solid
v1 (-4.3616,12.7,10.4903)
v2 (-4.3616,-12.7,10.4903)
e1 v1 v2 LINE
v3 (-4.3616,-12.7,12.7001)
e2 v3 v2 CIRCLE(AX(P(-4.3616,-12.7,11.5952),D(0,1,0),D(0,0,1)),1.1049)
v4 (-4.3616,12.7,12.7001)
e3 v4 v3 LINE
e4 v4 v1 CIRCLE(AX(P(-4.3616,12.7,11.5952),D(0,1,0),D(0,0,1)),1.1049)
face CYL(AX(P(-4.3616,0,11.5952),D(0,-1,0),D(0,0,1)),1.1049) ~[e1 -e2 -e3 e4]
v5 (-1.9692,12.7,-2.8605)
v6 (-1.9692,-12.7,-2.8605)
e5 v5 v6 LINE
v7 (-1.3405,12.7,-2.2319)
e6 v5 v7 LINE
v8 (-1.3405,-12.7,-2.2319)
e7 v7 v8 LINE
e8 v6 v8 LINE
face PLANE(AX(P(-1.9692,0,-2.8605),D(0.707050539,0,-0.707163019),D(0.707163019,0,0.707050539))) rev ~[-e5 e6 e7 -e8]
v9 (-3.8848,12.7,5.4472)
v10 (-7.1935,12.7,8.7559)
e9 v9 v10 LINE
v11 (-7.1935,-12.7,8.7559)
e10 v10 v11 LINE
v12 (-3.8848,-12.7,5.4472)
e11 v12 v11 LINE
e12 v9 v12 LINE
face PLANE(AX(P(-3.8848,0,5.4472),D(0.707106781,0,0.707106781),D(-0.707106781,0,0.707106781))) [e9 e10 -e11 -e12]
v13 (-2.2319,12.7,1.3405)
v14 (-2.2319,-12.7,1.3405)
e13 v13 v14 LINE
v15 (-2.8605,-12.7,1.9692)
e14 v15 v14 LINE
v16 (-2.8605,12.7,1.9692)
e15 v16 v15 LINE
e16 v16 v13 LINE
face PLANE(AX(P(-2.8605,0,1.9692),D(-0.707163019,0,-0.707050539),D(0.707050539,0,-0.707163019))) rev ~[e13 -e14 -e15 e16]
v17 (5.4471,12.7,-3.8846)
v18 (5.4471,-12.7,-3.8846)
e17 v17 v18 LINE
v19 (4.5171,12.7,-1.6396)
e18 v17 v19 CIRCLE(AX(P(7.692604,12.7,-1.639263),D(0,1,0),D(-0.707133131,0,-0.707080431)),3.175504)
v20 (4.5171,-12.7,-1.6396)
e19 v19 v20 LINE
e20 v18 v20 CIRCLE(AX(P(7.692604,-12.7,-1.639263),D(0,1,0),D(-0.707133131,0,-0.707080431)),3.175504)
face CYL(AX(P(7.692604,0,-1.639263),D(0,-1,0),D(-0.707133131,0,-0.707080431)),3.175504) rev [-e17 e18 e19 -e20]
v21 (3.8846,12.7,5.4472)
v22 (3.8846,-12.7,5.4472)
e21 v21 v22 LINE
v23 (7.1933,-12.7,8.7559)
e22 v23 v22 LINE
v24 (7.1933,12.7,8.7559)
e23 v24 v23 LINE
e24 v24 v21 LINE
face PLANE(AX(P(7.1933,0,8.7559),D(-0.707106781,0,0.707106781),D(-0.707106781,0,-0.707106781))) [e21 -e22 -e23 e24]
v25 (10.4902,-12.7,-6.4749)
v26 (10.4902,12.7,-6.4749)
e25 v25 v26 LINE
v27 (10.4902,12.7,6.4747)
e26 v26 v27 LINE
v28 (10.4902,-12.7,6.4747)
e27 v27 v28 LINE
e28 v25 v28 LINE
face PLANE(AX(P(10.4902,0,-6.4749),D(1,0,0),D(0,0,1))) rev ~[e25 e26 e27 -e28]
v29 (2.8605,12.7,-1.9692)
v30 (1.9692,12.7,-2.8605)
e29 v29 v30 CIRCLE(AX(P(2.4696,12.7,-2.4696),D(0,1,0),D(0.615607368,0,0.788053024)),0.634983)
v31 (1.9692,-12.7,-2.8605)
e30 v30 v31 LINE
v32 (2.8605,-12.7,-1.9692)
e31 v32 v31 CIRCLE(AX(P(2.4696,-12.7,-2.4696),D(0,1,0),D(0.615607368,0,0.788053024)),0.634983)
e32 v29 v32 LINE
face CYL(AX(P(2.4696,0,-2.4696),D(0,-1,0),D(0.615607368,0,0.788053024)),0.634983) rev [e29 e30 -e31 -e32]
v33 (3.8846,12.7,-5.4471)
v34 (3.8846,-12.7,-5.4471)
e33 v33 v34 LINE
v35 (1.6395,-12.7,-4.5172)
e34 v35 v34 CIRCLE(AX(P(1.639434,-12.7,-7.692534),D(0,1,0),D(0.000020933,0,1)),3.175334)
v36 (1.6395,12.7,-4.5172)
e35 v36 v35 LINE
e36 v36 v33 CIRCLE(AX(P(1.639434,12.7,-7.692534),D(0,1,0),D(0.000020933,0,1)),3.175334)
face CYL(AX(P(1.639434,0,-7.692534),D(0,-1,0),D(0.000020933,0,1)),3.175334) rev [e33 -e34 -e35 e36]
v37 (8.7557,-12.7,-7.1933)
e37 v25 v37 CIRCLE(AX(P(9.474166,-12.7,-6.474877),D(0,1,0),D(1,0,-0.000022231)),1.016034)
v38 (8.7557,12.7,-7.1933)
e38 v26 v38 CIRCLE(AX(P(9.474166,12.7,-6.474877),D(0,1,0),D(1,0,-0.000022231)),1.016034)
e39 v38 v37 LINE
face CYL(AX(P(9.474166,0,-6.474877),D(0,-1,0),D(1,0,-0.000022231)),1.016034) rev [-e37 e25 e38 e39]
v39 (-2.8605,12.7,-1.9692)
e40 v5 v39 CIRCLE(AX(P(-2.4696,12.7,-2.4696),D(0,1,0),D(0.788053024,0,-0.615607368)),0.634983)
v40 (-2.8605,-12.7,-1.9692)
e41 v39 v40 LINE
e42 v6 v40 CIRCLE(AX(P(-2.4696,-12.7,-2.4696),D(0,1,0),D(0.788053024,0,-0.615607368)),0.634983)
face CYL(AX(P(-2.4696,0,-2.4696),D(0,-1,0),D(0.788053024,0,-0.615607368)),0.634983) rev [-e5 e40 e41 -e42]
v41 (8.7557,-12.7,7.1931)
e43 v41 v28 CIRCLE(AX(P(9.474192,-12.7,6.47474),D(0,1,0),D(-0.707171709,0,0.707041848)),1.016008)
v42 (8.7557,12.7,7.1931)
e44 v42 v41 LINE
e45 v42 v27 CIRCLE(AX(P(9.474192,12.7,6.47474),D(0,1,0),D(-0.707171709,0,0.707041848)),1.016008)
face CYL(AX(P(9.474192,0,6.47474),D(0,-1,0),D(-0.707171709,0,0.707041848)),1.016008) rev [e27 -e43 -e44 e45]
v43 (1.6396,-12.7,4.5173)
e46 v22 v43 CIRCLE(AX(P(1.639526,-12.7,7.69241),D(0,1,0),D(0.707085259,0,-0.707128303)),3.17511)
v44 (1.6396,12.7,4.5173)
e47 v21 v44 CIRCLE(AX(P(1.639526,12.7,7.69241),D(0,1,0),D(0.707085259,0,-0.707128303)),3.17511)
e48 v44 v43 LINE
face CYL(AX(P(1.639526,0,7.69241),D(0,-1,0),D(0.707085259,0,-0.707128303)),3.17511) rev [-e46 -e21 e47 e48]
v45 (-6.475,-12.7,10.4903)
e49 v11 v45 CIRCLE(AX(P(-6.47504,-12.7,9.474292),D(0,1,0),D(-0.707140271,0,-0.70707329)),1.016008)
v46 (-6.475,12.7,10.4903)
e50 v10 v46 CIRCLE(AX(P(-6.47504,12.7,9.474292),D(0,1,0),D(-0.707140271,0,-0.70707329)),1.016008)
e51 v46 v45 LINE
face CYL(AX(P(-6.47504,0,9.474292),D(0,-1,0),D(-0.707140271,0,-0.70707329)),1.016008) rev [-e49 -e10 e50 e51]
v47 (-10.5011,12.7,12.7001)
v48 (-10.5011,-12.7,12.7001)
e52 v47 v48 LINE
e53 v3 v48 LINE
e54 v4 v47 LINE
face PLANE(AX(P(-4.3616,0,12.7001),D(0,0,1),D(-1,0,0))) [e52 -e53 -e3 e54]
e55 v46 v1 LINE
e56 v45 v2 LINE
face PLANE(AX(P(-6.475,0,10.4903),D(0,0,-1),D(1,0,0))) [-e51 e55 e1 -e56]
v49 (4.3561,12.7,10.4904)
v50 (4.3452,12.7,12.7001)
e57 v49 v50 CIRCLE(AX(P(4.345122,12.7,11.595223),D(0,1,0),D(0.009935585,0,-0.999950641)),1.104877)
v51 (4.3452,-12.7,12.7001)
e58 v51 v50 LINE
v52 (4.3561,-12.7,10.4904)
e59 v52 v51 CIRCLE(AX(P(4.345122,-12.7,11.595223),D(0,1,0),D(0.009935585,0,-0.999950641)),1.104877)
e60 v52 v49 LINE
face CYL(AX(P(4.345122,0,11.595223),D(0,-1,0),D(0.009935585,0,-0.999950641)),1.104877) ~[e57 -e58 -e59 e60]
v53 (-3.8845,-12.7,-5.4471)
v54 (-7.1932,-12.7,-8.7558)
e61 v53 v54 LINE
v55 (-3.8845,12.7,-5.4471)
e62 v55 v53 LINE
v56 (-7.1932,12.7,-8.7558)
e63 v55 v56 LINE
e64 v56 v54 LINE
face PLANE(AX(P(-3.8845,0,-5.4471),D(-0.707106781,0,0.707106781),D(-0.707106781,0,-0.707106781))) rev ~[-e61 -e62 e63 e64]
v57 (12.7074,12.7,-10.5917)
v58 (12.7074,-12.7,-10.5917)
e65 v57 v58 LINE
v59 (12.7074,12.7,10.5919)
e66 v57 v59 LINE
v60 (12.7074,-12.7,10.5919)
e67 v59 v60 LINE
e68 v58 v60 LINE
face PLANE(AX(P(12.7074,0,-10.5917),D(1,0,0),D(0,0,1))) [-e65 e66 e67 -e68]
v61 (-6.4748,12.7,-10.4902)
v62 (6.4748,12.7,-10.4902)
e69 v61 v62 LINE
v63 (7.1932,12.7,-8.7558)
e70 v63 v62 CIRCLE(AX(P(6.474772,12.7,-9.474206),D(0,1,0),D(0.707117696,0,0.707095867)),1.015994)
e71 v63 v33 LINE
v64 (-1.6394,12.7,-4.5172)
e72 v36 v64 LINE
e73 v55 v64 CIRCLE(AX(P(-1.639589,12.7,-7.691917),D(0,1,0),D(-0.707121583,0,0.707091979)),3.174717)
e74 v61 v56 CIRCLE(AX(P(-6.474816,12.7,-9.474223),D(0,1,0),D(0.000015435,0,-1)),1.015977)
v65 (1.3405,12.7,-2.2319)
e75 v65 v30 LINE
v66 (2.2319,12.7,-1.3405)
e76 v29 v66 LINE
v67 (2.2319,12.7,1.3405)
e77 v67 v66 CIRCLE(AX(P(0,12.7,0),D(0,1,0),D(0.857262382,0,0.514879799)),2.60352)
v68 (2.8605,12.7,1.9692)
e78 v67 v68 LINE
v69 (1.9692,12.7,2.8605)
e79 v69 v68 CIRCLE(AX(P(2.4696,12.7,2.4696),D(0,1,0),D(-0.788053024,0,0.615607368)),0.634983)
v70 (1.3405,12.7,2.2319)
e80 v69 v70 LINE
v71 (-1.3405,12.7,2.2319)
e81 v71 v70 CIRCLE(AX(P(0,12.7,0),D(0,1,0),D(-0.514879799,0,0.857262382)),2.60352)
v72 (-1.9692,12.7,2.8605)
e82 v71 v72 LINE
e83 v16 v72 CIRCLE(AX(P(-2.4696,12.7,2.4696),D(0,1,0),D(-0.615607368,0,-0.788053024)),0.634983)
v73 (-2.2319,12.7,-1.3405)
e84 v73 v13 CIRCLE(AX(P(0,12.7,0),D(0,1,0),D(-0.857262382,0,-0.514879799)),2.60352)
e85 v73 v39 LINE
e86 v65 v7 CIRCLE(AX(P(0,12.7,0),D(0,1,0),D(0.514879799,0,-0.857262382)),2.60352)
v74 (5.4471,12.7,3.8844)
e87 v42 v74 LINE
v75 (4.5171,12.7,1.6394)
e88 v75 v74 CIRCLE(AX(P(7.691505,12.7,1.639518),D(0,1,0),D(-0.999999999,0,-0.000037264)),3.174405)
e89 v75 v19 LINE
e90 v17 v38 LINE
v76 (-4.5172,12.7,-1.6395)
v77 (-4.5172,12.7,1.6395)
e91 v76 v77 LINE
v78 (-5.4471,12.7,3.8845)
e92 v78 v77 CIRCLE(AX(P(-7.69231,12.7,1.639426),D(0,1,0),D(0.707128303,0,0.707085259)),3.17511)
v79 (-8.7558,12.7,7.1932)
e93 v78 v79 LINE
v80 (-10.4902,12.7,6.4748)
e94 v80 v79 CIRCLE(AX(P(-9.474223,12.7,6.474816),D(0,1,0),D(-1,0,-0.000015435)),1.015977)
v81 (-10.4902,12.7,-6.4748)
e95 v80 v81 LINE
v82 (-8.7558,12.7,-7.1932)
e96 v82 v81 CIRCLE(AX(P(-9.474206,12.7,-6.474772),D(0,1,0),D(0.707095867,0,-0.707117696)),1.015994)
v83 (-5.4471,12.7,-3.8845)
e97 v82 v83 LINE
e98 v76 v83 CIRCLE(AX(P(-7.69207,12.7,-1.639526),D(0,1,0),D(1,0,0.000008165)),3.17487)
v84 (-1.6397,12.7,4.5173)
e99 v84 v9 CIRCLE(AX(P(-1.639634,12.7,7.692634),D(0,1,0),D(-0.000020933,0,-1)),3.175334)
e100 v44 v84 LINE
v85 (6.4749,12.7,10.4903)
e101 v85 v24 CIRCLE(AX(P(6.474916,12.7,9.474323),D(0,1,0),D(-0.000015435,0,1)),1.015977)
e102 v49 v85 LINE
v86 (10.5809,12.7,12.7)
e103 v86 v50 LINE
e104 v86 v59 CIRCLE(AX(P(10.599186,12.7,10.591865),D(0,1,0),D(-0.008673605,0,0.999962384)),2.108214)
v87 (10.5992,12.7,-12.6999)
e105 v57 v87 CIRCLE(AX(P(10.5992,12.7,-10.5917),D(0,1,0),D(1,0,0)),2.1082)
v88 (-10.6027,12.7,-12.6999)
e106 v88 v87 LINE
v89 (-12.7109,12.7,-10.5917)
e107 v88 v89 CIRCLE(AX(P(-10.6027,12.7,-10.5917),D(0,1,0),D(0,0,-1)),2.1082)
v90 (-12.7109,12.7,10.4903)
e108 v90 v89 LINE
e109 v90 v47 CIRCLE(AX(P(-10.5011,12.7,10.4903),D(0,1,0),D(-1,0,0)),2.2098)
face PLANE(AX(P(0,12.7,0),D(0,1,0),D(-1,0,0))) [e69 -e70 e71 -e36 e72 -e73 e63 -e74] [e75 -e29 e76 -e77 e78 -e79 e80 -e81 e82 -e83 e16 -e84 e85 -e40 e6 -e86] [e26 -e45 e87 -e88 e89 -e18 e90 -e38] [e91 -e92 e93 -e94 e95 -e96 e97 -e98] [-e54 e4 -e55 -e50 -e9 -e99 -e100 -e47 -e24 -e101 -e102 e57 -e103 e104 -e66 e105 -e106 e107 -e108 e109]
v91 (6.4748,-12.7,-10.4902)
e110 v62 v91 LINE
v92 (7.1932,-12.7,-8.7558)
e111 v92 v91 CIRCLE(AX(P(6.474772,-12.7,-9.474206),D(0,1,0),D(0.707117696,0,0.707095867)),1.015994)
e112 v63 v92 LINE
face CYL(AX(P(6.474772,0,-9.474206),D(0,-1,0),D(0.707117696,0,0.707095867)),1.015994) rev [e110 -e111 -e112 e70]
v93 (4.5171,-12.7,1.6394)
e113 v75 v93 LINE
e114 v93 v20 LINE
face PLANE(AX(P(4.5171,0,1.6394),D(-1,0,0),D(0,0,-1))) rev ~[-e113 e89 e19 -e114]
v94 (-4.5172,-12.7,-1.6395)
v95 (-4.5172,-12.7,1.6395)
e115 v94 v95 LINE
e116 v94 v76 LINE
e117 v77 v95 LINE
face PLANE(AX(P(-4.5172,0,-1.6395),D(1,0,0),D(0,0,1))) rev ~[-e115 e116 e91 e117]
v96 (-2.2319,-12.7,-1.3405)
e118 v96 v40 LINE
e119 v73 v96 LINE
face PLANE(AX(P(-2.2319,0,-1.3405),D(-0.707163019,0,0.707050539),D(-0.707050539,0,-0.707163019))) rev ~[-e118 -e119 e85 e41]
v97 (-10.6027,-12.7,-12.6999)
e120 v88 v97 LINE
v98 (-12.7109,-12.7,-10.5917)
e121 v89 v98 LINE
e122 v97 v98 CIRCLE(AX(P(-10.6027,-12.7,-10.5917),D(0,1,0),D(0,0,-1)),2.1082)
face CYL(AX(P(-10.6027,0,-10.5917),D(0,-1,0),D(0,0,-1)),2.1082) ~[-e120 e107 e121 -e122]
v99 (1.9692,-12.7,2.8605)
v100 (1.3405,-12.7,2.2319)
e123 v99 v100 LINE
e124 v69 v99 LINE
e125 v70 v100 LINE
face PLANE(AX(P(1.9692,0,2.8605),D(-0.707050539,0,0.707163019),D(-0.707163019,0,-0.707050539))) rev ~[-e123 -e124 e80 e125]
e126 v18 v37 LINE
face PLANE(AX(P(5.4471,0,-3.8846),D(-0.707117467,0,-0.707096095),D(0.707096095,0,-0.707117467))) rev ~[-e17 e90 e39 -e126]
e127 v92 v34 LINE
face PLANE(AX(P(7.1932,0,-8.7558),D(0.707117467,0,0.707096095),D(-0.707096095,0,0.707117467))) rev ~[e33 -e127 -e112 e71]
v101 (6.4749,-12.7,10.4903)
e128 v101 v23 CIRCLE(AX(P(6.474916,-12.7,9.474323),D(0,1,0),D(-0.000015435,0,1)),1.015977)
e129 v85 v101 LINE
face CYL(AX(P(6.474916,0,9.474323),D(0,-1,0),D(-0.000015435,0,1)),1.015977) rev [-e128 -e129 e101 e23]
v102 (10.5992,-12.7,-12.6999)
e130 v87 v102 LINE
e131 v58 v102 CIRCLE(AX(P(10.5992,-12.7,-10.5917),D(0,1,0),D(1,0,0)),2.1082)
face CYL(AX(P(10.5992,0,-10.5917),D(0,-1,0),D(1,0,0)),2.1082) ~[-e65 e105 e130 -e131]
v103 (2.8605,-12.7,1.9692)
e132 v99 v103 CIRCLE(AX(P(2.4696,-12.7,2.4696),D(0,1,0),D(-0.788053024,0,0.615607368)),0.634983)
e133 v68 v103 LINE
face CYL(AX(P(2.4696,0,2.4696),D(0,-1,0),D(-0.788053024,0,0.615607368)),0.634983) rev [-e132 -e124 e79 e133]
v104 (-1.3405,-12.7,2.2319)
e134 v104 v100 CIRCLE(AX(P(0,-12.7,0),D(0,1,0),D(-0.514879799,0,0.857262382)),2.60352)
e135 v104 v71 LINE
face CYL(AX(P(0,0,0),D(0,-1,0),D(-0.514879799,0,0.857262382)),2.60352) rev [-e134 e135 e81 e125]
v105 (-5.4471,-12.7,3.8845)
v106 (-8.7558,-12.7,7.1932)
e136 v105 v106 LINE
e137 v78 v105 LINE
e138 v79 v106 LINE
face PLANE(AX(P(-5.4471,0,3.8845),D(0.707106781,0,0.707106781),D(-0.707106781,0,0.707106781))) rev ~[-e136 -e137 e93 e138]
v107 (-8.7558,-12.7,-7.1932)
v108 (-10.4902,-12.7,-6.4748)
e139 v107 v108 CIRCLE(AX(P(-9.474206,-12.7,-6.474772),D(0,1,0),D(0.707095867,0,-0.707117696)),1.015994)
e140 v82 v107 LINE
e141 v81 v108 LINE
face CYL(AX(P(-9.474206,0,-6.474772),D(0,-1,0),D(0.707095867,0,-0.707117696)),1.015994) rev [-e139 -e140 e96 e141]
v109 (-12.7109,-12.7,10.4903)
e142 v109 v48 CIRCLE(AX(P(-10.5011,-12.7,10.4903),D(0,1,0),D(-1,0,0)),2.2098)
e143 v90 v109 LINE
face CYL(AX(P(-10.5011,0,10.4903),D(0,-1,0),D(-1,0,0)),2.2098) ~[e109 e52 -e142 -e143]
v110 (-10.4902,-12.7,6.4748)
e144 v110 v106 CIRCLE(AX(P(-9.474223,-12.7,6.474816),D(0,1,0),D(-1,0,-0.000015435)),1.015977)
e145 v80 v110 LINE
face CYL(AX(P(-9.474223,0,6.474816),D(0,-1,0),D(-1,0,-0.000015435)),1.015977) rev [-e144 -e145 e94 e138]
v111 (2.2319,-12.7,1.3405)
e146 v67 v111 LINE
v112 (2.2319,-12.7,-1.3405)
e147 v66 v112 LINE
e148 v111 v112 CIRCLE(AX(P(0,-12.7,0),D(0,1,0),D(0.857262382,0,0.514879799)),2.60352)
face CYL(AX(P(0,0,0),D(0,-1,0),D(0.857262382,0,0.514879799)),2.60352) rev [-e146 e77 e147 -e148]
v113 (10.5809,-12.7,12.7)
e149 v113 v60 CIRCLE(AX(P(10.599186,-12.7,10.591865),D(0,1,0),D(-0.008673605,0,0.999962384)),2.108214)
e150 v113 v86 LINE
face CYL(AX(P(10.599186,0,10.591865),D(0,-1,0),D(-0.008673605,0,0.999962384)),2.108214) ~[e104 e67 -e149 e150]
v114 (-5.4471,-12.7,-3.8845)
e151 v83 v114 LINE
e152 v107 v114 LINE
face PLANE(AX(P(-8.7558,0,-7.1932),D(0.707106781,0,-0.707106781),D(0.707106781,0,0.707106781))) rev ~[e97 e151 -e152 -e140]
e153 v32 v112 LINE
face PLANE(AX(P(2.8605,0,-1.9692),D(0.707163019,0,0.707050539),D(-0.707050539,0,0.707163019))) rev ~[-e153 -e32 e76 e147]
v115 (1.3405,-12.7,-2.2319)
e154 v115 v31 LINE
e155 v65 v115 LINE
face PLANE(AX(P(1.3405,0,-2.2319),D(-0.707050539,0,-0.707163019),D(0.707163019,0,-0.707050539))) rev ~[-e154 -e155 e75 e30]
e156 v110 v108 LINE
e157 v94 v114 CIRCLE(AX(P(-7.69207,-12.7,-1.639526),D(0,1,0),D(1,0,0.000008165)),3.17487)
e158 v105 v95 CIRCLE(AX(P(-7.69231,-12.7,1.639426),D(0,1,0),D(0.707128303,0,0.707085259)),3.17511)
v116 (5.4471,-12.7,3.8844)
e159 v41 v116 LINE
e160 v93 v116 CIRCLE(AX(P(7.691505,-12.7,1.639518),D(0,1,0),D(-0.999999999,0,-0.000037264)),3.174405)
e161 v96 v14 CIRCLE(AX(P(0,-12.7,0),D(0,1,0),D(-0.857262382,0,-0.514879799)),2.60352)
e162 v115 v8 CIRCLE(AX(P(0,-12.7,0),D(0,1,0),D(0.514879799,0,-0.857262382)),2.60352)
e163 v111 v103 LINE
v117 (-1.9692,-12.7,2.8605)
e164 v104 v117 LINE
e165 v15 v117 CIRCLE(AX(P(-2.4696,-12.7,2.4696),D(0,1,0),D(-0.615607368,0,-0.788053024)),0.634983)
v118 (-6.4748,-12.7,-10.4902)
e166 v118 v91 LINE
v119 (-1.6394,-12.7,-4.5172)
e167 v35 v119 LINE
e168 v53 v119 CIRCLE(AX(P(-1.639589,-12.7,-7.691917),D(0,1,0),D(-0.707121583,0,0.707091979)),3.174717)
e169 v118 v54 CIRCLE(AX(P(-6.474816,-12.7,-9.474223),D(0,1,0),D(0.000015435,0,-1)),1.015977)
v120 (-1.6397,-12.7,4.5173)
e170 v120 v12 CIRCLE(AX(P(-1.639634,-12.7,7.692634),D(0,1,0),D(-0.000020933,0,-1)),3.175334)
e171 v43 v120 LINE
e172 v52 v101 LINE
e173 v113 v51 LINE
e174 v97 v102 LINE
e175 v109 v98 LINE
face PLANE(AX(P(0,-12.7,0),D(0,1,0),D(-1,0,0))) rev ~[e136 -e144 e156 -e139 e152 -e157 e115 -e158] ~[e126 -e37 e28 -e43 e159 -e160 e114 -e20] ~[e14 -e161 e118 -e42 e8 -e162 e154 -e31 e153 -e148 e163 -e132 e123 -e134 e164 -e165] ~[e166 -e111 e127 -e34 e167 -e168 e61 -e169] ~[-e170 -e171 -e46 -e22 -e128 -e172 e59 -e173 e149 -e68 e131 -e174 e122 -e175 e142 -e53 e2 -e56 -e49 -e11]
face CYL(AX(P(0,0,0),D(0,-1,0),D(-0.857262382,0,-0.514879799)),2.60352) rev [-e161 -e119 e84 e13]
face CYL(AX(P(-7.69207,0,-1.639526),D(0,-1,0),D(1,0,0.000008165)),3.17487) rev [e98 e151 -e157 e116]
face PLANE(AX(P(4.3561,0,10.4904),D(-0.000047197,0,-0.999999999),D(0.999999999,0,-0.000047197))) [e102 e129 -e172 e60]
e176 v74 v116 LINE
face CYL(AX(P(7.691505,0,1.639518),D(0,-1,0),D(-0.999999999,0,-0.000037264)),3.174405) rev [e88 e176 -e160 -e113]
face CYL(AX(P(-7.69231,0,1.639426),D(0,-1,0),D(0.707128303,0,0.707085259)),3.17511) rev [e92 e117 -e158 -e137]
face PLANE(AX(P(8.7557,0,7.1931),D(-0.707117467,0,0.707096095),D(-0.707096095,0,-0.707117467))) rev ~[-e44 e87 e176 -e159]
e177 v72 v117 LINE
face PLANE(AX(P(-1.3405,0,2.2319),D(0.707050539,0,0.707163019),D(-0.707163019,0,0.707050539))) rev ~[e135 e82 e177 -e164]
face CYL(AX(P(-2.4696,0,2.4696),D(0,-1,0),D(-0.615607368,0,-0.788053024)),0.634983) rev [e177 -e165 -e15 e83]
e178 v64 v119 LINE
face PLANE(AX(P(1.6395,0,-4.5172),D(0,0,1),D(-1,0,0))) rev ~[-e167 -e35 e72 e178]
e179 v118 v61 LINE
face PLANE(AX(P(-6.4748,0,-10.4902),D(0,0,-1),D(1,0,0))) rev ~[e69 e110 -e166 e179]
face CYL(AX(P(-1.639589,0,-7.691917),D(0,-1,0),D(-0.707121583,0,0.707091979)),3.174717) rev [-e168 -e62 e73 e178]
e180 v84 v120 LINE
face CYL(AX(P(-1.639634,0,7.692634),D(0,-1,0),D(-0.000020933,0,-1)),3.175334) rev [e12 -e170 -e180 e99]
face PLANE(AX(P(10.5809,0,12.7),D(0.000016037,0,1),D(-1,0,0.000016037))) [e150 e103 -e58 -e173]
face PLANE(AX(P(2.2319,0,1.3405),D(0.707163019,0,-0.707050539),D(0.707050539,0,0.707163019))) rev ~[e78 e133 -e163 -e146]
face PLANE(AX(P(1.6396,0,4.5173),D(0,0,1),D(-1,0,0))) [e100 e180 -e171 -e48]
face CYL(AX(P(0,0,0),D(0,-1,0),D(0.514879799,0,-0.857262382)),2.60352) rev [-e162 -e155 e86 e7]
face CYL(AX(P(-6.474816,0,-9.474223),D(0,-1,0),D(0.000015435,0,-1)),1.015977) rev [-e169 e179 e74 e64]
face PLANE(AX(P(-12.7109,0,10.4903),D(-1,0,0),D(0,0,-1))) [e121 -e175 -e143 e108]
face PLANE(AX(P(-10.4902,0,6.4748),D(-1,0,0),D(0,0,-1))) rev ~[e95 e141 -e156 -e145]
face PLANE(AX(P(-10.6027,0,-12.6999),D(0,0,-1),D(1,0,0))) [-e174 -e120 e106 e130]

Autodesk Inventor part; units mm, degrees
ref_plane "YZ Plane" through (0, 0, 0) normal (1, 0, 0) x (0, 1, 0)
ref_plane "XZ Plane" through (0, 0, 0) normal (0, 1, 0) x (-1, 0, 0)
ref_plane "XY Plane" through (0, 0, 0) normal (0, 0, 1) x (1, 0, 0)
sketch "Sketch1" plane through (0, 0, 0) normal (0, 1, 0) x (-1, 0, 0)
  arc A0 (4.5172, -1.6395) -> (5.4471, -3.8845) centre (7.6922, -1.6395) ccw
  line L0 (8.7558, -7.1932) -> (5.4471, -3.8845)
  arc A1 (8.7558, -7.1932) -> (10.4902, -6.4748) centre (9.4742, -6.4748) ccw
  line L1 (10.4902, 6.4748) -> (10.4902, -6.4748)
  arc A2 (10.4902, 6.4748) -> (8.7558, 7.1932) centre (9.4742, 6.4748) ccw
  line L2 (5.4471, 3.8845) -> (8.7558, 7.1932)
  arc A3 (5.4471, 3.8845) -> (4.5172, 1.6395) centre (7.6922, 1.6395) ccw
  line L3 (4.5172, -1.6395) -> (4.5172, 1.6395)
  arc A4 (6.4748, -10.4902) -> (7.1932, -8.7558) centre (6.4748, -9.4742) ccw
  line L4 (3.8845, -5.4471) -> (7.1932, -8.7558)
  arc A5 (3.8845, -5.4471) -> (1.6394, -4.5172) centre (1.6394, -7.6922) ccw
  line L5 (-1.6395, -4.5172) -> (1.6394, -4.5172)
  arc A6 (-1.6395, -4.5172) -> (-3.8846, -5.4471) centre (-1.6395, -7.6922) ccw
  line L6 (-7.1932, -8.7558) -> (-3.8846, -5.4471)
  arc A7 (-7.1932, -8.7558) -> (-6.4748, -10.4902) centre (-6.4748, -9.4742) ccw
  line L7 (6.4748, -10.4902) -> (-6.4748, -10.4902)
  arc A8 (-10.4902, -6.4749) -> (-8.7557, -7.1933) centre (-9.4742, -6.4749) ccw
  line L8 (-5.4471, -3.8846) -> (-8.7557, -7.1933)
  arc A9 (-5.4471, -3.8846) -> (-4.5171, -1.6396) centre (-7.6921, -1.6396) ccw
  line L9 (-4.5171, 1.6394) -> (-4.5171, -1.6396)
  arc A10 (-4.5171, 1.6394) -> (-5.4471, 3.8844) centre (-7.6921, 1.6394) ccw
  line L10 (-8.7557, 7.1931) -> (-5.4471, 3.8844)
  arc A11 (-8.7557, 7.1931) -> (-10.4902, 6.4747) centre (-9.4742, 6.4747) ccw
  line L11 (-10.4902, -6.4749) -> (-10.4902, 6.4747)
  arc A12 (1.3405, 2.2319) -> (-1.3405, 2.2319) centre (0, 0) ccw
  line L12 (-1.9692, 2.8605) -> (-1.3405, 2.2319)
  arc A13 (-1.9692, 2.8605) -> (-2.8605, 1.9692) centre (-2.4696, 2.4696) ccw
  line L13 (-2.2319, 1.3405) -> (-2.8605, 1.9692)
  arc A14 (-2.2319, 1.3405) -> (-2.2319, -1.3405) centre (0, 0) ccw
  line L14 (-2.8605, -1.9692) -> (-2.2319, -1.3405)
  arc A15 (-2.8605, -1.9692) -> (-1.9692, -2.8605) centre (-2.4696, -2.4696) ccw
  line L15 (-1.3405, -2.2319) -> (-1.9692, -2.8605)
  arc A16 (-1.3405, -2.2319) -> (1.3405, -2.2319) centre (0, 0) ccw
  line L16 (1.9692, -2.8605) -> (1.3405, -2.2319)
  arc A17 (1.9692, -2.8605) -> (2.8605, -1.9692) centre (2.4696, -2.4696) ccw
  line L17 (2.2319, -1.3405) -> (2.8605, -1.9692)
  arc A18 (2.2319, -1.3405) -> (2.2319, 1.3405) centre (0, 0) ccw
  line L18 (2.8605, 1.9692) -> (2.2319, 1.3405)
  arc A19 (2.8605, 1.9692) -> (1.9692, 2.8605) centre (2.4696, 2.4696) ccw
  line L19 (1.3405, 2.2319) -> (1.9692, 2.8605)
  arc A20 (-4.3561, 10.4904) -> (-4.3452, 12.7001) centre (-4.3451, 11.5952) ccw
  line L20 (-4.3561, 10.4904) -> (-6.4749, 10.4903)
  arc A21 (-6.4749, 10.4903) -> (-7.1933, 8.7559) centre (-6.4749, 9.4743) ccw
  line L21 (-7.1933, 8.7559) -> (-3.8846, 5.4472)
  arc A22 (-3.8846, 5.4472) -> (-1.6396, 4.5173) centre (-1.6396, 7.6923) ccw
  line L22 (-1.6396, 4.5173) -> (1.6397, 4.5173)
  arc A23 (1.6397, 4.5173) -> (3.8848, 5.4472) centre (1.6397, 7.6923) ccw
  line L23 (3.8848, 5.4472) -> (7.1935, 8.7559)
  arc A24 (7.1935, 8.7559) -> (6.475, 10.4903) centre (6.475, 9.4743) ccw
  line L24 (6.475, 10.4903) -> (4.3616, 10.4903)
  arc A25 (4.3616, 12.7001) -> (4.3616, 10.4903) centre (4.3616, 11.5952) ccw
  line L25 (4.3616, 12.7001) -> (10.5011, 12.7001)
  arc A26 (12.7109, 10.4903) -> (10.5011, 12.7001) centre (10.5011, 10.4903) ccw
  line L26 (12.7109, 10.4903) -> (12.7109, -10.5917)
  arc A27 (10.6027, -12.6999) -> (12.7109, -10.5917) centre (10.6027, -10.5917) ccw
  line L27 (10.6027, -12.6999) -> (-10.5992, -12.6999)
  arc A28 (-12.7074, -10.5917) -> (-10.5992, -12.6999) centre (-10.5992, -10.5917) ccw
  line L28 (-12.7074, -10.5917) -> (-12.7074, 10.5919)
  arc A29 (-10.5809, 12.7) -> (-12.7074, 10.5919) centre (-10.5992, 10.5919) ccw
  line L29 (-10.5809, 12.7) -> (-4.3452, 12.7001)
  point P0 (0, 0)
  dimension "d100" = 8.1828
  dimension "d103" = 25.4
extrude "Extrusion1" add sketch "Sketch1" along normal mid plane 25.4
properties part number "1001-S" material "6105-T5"
